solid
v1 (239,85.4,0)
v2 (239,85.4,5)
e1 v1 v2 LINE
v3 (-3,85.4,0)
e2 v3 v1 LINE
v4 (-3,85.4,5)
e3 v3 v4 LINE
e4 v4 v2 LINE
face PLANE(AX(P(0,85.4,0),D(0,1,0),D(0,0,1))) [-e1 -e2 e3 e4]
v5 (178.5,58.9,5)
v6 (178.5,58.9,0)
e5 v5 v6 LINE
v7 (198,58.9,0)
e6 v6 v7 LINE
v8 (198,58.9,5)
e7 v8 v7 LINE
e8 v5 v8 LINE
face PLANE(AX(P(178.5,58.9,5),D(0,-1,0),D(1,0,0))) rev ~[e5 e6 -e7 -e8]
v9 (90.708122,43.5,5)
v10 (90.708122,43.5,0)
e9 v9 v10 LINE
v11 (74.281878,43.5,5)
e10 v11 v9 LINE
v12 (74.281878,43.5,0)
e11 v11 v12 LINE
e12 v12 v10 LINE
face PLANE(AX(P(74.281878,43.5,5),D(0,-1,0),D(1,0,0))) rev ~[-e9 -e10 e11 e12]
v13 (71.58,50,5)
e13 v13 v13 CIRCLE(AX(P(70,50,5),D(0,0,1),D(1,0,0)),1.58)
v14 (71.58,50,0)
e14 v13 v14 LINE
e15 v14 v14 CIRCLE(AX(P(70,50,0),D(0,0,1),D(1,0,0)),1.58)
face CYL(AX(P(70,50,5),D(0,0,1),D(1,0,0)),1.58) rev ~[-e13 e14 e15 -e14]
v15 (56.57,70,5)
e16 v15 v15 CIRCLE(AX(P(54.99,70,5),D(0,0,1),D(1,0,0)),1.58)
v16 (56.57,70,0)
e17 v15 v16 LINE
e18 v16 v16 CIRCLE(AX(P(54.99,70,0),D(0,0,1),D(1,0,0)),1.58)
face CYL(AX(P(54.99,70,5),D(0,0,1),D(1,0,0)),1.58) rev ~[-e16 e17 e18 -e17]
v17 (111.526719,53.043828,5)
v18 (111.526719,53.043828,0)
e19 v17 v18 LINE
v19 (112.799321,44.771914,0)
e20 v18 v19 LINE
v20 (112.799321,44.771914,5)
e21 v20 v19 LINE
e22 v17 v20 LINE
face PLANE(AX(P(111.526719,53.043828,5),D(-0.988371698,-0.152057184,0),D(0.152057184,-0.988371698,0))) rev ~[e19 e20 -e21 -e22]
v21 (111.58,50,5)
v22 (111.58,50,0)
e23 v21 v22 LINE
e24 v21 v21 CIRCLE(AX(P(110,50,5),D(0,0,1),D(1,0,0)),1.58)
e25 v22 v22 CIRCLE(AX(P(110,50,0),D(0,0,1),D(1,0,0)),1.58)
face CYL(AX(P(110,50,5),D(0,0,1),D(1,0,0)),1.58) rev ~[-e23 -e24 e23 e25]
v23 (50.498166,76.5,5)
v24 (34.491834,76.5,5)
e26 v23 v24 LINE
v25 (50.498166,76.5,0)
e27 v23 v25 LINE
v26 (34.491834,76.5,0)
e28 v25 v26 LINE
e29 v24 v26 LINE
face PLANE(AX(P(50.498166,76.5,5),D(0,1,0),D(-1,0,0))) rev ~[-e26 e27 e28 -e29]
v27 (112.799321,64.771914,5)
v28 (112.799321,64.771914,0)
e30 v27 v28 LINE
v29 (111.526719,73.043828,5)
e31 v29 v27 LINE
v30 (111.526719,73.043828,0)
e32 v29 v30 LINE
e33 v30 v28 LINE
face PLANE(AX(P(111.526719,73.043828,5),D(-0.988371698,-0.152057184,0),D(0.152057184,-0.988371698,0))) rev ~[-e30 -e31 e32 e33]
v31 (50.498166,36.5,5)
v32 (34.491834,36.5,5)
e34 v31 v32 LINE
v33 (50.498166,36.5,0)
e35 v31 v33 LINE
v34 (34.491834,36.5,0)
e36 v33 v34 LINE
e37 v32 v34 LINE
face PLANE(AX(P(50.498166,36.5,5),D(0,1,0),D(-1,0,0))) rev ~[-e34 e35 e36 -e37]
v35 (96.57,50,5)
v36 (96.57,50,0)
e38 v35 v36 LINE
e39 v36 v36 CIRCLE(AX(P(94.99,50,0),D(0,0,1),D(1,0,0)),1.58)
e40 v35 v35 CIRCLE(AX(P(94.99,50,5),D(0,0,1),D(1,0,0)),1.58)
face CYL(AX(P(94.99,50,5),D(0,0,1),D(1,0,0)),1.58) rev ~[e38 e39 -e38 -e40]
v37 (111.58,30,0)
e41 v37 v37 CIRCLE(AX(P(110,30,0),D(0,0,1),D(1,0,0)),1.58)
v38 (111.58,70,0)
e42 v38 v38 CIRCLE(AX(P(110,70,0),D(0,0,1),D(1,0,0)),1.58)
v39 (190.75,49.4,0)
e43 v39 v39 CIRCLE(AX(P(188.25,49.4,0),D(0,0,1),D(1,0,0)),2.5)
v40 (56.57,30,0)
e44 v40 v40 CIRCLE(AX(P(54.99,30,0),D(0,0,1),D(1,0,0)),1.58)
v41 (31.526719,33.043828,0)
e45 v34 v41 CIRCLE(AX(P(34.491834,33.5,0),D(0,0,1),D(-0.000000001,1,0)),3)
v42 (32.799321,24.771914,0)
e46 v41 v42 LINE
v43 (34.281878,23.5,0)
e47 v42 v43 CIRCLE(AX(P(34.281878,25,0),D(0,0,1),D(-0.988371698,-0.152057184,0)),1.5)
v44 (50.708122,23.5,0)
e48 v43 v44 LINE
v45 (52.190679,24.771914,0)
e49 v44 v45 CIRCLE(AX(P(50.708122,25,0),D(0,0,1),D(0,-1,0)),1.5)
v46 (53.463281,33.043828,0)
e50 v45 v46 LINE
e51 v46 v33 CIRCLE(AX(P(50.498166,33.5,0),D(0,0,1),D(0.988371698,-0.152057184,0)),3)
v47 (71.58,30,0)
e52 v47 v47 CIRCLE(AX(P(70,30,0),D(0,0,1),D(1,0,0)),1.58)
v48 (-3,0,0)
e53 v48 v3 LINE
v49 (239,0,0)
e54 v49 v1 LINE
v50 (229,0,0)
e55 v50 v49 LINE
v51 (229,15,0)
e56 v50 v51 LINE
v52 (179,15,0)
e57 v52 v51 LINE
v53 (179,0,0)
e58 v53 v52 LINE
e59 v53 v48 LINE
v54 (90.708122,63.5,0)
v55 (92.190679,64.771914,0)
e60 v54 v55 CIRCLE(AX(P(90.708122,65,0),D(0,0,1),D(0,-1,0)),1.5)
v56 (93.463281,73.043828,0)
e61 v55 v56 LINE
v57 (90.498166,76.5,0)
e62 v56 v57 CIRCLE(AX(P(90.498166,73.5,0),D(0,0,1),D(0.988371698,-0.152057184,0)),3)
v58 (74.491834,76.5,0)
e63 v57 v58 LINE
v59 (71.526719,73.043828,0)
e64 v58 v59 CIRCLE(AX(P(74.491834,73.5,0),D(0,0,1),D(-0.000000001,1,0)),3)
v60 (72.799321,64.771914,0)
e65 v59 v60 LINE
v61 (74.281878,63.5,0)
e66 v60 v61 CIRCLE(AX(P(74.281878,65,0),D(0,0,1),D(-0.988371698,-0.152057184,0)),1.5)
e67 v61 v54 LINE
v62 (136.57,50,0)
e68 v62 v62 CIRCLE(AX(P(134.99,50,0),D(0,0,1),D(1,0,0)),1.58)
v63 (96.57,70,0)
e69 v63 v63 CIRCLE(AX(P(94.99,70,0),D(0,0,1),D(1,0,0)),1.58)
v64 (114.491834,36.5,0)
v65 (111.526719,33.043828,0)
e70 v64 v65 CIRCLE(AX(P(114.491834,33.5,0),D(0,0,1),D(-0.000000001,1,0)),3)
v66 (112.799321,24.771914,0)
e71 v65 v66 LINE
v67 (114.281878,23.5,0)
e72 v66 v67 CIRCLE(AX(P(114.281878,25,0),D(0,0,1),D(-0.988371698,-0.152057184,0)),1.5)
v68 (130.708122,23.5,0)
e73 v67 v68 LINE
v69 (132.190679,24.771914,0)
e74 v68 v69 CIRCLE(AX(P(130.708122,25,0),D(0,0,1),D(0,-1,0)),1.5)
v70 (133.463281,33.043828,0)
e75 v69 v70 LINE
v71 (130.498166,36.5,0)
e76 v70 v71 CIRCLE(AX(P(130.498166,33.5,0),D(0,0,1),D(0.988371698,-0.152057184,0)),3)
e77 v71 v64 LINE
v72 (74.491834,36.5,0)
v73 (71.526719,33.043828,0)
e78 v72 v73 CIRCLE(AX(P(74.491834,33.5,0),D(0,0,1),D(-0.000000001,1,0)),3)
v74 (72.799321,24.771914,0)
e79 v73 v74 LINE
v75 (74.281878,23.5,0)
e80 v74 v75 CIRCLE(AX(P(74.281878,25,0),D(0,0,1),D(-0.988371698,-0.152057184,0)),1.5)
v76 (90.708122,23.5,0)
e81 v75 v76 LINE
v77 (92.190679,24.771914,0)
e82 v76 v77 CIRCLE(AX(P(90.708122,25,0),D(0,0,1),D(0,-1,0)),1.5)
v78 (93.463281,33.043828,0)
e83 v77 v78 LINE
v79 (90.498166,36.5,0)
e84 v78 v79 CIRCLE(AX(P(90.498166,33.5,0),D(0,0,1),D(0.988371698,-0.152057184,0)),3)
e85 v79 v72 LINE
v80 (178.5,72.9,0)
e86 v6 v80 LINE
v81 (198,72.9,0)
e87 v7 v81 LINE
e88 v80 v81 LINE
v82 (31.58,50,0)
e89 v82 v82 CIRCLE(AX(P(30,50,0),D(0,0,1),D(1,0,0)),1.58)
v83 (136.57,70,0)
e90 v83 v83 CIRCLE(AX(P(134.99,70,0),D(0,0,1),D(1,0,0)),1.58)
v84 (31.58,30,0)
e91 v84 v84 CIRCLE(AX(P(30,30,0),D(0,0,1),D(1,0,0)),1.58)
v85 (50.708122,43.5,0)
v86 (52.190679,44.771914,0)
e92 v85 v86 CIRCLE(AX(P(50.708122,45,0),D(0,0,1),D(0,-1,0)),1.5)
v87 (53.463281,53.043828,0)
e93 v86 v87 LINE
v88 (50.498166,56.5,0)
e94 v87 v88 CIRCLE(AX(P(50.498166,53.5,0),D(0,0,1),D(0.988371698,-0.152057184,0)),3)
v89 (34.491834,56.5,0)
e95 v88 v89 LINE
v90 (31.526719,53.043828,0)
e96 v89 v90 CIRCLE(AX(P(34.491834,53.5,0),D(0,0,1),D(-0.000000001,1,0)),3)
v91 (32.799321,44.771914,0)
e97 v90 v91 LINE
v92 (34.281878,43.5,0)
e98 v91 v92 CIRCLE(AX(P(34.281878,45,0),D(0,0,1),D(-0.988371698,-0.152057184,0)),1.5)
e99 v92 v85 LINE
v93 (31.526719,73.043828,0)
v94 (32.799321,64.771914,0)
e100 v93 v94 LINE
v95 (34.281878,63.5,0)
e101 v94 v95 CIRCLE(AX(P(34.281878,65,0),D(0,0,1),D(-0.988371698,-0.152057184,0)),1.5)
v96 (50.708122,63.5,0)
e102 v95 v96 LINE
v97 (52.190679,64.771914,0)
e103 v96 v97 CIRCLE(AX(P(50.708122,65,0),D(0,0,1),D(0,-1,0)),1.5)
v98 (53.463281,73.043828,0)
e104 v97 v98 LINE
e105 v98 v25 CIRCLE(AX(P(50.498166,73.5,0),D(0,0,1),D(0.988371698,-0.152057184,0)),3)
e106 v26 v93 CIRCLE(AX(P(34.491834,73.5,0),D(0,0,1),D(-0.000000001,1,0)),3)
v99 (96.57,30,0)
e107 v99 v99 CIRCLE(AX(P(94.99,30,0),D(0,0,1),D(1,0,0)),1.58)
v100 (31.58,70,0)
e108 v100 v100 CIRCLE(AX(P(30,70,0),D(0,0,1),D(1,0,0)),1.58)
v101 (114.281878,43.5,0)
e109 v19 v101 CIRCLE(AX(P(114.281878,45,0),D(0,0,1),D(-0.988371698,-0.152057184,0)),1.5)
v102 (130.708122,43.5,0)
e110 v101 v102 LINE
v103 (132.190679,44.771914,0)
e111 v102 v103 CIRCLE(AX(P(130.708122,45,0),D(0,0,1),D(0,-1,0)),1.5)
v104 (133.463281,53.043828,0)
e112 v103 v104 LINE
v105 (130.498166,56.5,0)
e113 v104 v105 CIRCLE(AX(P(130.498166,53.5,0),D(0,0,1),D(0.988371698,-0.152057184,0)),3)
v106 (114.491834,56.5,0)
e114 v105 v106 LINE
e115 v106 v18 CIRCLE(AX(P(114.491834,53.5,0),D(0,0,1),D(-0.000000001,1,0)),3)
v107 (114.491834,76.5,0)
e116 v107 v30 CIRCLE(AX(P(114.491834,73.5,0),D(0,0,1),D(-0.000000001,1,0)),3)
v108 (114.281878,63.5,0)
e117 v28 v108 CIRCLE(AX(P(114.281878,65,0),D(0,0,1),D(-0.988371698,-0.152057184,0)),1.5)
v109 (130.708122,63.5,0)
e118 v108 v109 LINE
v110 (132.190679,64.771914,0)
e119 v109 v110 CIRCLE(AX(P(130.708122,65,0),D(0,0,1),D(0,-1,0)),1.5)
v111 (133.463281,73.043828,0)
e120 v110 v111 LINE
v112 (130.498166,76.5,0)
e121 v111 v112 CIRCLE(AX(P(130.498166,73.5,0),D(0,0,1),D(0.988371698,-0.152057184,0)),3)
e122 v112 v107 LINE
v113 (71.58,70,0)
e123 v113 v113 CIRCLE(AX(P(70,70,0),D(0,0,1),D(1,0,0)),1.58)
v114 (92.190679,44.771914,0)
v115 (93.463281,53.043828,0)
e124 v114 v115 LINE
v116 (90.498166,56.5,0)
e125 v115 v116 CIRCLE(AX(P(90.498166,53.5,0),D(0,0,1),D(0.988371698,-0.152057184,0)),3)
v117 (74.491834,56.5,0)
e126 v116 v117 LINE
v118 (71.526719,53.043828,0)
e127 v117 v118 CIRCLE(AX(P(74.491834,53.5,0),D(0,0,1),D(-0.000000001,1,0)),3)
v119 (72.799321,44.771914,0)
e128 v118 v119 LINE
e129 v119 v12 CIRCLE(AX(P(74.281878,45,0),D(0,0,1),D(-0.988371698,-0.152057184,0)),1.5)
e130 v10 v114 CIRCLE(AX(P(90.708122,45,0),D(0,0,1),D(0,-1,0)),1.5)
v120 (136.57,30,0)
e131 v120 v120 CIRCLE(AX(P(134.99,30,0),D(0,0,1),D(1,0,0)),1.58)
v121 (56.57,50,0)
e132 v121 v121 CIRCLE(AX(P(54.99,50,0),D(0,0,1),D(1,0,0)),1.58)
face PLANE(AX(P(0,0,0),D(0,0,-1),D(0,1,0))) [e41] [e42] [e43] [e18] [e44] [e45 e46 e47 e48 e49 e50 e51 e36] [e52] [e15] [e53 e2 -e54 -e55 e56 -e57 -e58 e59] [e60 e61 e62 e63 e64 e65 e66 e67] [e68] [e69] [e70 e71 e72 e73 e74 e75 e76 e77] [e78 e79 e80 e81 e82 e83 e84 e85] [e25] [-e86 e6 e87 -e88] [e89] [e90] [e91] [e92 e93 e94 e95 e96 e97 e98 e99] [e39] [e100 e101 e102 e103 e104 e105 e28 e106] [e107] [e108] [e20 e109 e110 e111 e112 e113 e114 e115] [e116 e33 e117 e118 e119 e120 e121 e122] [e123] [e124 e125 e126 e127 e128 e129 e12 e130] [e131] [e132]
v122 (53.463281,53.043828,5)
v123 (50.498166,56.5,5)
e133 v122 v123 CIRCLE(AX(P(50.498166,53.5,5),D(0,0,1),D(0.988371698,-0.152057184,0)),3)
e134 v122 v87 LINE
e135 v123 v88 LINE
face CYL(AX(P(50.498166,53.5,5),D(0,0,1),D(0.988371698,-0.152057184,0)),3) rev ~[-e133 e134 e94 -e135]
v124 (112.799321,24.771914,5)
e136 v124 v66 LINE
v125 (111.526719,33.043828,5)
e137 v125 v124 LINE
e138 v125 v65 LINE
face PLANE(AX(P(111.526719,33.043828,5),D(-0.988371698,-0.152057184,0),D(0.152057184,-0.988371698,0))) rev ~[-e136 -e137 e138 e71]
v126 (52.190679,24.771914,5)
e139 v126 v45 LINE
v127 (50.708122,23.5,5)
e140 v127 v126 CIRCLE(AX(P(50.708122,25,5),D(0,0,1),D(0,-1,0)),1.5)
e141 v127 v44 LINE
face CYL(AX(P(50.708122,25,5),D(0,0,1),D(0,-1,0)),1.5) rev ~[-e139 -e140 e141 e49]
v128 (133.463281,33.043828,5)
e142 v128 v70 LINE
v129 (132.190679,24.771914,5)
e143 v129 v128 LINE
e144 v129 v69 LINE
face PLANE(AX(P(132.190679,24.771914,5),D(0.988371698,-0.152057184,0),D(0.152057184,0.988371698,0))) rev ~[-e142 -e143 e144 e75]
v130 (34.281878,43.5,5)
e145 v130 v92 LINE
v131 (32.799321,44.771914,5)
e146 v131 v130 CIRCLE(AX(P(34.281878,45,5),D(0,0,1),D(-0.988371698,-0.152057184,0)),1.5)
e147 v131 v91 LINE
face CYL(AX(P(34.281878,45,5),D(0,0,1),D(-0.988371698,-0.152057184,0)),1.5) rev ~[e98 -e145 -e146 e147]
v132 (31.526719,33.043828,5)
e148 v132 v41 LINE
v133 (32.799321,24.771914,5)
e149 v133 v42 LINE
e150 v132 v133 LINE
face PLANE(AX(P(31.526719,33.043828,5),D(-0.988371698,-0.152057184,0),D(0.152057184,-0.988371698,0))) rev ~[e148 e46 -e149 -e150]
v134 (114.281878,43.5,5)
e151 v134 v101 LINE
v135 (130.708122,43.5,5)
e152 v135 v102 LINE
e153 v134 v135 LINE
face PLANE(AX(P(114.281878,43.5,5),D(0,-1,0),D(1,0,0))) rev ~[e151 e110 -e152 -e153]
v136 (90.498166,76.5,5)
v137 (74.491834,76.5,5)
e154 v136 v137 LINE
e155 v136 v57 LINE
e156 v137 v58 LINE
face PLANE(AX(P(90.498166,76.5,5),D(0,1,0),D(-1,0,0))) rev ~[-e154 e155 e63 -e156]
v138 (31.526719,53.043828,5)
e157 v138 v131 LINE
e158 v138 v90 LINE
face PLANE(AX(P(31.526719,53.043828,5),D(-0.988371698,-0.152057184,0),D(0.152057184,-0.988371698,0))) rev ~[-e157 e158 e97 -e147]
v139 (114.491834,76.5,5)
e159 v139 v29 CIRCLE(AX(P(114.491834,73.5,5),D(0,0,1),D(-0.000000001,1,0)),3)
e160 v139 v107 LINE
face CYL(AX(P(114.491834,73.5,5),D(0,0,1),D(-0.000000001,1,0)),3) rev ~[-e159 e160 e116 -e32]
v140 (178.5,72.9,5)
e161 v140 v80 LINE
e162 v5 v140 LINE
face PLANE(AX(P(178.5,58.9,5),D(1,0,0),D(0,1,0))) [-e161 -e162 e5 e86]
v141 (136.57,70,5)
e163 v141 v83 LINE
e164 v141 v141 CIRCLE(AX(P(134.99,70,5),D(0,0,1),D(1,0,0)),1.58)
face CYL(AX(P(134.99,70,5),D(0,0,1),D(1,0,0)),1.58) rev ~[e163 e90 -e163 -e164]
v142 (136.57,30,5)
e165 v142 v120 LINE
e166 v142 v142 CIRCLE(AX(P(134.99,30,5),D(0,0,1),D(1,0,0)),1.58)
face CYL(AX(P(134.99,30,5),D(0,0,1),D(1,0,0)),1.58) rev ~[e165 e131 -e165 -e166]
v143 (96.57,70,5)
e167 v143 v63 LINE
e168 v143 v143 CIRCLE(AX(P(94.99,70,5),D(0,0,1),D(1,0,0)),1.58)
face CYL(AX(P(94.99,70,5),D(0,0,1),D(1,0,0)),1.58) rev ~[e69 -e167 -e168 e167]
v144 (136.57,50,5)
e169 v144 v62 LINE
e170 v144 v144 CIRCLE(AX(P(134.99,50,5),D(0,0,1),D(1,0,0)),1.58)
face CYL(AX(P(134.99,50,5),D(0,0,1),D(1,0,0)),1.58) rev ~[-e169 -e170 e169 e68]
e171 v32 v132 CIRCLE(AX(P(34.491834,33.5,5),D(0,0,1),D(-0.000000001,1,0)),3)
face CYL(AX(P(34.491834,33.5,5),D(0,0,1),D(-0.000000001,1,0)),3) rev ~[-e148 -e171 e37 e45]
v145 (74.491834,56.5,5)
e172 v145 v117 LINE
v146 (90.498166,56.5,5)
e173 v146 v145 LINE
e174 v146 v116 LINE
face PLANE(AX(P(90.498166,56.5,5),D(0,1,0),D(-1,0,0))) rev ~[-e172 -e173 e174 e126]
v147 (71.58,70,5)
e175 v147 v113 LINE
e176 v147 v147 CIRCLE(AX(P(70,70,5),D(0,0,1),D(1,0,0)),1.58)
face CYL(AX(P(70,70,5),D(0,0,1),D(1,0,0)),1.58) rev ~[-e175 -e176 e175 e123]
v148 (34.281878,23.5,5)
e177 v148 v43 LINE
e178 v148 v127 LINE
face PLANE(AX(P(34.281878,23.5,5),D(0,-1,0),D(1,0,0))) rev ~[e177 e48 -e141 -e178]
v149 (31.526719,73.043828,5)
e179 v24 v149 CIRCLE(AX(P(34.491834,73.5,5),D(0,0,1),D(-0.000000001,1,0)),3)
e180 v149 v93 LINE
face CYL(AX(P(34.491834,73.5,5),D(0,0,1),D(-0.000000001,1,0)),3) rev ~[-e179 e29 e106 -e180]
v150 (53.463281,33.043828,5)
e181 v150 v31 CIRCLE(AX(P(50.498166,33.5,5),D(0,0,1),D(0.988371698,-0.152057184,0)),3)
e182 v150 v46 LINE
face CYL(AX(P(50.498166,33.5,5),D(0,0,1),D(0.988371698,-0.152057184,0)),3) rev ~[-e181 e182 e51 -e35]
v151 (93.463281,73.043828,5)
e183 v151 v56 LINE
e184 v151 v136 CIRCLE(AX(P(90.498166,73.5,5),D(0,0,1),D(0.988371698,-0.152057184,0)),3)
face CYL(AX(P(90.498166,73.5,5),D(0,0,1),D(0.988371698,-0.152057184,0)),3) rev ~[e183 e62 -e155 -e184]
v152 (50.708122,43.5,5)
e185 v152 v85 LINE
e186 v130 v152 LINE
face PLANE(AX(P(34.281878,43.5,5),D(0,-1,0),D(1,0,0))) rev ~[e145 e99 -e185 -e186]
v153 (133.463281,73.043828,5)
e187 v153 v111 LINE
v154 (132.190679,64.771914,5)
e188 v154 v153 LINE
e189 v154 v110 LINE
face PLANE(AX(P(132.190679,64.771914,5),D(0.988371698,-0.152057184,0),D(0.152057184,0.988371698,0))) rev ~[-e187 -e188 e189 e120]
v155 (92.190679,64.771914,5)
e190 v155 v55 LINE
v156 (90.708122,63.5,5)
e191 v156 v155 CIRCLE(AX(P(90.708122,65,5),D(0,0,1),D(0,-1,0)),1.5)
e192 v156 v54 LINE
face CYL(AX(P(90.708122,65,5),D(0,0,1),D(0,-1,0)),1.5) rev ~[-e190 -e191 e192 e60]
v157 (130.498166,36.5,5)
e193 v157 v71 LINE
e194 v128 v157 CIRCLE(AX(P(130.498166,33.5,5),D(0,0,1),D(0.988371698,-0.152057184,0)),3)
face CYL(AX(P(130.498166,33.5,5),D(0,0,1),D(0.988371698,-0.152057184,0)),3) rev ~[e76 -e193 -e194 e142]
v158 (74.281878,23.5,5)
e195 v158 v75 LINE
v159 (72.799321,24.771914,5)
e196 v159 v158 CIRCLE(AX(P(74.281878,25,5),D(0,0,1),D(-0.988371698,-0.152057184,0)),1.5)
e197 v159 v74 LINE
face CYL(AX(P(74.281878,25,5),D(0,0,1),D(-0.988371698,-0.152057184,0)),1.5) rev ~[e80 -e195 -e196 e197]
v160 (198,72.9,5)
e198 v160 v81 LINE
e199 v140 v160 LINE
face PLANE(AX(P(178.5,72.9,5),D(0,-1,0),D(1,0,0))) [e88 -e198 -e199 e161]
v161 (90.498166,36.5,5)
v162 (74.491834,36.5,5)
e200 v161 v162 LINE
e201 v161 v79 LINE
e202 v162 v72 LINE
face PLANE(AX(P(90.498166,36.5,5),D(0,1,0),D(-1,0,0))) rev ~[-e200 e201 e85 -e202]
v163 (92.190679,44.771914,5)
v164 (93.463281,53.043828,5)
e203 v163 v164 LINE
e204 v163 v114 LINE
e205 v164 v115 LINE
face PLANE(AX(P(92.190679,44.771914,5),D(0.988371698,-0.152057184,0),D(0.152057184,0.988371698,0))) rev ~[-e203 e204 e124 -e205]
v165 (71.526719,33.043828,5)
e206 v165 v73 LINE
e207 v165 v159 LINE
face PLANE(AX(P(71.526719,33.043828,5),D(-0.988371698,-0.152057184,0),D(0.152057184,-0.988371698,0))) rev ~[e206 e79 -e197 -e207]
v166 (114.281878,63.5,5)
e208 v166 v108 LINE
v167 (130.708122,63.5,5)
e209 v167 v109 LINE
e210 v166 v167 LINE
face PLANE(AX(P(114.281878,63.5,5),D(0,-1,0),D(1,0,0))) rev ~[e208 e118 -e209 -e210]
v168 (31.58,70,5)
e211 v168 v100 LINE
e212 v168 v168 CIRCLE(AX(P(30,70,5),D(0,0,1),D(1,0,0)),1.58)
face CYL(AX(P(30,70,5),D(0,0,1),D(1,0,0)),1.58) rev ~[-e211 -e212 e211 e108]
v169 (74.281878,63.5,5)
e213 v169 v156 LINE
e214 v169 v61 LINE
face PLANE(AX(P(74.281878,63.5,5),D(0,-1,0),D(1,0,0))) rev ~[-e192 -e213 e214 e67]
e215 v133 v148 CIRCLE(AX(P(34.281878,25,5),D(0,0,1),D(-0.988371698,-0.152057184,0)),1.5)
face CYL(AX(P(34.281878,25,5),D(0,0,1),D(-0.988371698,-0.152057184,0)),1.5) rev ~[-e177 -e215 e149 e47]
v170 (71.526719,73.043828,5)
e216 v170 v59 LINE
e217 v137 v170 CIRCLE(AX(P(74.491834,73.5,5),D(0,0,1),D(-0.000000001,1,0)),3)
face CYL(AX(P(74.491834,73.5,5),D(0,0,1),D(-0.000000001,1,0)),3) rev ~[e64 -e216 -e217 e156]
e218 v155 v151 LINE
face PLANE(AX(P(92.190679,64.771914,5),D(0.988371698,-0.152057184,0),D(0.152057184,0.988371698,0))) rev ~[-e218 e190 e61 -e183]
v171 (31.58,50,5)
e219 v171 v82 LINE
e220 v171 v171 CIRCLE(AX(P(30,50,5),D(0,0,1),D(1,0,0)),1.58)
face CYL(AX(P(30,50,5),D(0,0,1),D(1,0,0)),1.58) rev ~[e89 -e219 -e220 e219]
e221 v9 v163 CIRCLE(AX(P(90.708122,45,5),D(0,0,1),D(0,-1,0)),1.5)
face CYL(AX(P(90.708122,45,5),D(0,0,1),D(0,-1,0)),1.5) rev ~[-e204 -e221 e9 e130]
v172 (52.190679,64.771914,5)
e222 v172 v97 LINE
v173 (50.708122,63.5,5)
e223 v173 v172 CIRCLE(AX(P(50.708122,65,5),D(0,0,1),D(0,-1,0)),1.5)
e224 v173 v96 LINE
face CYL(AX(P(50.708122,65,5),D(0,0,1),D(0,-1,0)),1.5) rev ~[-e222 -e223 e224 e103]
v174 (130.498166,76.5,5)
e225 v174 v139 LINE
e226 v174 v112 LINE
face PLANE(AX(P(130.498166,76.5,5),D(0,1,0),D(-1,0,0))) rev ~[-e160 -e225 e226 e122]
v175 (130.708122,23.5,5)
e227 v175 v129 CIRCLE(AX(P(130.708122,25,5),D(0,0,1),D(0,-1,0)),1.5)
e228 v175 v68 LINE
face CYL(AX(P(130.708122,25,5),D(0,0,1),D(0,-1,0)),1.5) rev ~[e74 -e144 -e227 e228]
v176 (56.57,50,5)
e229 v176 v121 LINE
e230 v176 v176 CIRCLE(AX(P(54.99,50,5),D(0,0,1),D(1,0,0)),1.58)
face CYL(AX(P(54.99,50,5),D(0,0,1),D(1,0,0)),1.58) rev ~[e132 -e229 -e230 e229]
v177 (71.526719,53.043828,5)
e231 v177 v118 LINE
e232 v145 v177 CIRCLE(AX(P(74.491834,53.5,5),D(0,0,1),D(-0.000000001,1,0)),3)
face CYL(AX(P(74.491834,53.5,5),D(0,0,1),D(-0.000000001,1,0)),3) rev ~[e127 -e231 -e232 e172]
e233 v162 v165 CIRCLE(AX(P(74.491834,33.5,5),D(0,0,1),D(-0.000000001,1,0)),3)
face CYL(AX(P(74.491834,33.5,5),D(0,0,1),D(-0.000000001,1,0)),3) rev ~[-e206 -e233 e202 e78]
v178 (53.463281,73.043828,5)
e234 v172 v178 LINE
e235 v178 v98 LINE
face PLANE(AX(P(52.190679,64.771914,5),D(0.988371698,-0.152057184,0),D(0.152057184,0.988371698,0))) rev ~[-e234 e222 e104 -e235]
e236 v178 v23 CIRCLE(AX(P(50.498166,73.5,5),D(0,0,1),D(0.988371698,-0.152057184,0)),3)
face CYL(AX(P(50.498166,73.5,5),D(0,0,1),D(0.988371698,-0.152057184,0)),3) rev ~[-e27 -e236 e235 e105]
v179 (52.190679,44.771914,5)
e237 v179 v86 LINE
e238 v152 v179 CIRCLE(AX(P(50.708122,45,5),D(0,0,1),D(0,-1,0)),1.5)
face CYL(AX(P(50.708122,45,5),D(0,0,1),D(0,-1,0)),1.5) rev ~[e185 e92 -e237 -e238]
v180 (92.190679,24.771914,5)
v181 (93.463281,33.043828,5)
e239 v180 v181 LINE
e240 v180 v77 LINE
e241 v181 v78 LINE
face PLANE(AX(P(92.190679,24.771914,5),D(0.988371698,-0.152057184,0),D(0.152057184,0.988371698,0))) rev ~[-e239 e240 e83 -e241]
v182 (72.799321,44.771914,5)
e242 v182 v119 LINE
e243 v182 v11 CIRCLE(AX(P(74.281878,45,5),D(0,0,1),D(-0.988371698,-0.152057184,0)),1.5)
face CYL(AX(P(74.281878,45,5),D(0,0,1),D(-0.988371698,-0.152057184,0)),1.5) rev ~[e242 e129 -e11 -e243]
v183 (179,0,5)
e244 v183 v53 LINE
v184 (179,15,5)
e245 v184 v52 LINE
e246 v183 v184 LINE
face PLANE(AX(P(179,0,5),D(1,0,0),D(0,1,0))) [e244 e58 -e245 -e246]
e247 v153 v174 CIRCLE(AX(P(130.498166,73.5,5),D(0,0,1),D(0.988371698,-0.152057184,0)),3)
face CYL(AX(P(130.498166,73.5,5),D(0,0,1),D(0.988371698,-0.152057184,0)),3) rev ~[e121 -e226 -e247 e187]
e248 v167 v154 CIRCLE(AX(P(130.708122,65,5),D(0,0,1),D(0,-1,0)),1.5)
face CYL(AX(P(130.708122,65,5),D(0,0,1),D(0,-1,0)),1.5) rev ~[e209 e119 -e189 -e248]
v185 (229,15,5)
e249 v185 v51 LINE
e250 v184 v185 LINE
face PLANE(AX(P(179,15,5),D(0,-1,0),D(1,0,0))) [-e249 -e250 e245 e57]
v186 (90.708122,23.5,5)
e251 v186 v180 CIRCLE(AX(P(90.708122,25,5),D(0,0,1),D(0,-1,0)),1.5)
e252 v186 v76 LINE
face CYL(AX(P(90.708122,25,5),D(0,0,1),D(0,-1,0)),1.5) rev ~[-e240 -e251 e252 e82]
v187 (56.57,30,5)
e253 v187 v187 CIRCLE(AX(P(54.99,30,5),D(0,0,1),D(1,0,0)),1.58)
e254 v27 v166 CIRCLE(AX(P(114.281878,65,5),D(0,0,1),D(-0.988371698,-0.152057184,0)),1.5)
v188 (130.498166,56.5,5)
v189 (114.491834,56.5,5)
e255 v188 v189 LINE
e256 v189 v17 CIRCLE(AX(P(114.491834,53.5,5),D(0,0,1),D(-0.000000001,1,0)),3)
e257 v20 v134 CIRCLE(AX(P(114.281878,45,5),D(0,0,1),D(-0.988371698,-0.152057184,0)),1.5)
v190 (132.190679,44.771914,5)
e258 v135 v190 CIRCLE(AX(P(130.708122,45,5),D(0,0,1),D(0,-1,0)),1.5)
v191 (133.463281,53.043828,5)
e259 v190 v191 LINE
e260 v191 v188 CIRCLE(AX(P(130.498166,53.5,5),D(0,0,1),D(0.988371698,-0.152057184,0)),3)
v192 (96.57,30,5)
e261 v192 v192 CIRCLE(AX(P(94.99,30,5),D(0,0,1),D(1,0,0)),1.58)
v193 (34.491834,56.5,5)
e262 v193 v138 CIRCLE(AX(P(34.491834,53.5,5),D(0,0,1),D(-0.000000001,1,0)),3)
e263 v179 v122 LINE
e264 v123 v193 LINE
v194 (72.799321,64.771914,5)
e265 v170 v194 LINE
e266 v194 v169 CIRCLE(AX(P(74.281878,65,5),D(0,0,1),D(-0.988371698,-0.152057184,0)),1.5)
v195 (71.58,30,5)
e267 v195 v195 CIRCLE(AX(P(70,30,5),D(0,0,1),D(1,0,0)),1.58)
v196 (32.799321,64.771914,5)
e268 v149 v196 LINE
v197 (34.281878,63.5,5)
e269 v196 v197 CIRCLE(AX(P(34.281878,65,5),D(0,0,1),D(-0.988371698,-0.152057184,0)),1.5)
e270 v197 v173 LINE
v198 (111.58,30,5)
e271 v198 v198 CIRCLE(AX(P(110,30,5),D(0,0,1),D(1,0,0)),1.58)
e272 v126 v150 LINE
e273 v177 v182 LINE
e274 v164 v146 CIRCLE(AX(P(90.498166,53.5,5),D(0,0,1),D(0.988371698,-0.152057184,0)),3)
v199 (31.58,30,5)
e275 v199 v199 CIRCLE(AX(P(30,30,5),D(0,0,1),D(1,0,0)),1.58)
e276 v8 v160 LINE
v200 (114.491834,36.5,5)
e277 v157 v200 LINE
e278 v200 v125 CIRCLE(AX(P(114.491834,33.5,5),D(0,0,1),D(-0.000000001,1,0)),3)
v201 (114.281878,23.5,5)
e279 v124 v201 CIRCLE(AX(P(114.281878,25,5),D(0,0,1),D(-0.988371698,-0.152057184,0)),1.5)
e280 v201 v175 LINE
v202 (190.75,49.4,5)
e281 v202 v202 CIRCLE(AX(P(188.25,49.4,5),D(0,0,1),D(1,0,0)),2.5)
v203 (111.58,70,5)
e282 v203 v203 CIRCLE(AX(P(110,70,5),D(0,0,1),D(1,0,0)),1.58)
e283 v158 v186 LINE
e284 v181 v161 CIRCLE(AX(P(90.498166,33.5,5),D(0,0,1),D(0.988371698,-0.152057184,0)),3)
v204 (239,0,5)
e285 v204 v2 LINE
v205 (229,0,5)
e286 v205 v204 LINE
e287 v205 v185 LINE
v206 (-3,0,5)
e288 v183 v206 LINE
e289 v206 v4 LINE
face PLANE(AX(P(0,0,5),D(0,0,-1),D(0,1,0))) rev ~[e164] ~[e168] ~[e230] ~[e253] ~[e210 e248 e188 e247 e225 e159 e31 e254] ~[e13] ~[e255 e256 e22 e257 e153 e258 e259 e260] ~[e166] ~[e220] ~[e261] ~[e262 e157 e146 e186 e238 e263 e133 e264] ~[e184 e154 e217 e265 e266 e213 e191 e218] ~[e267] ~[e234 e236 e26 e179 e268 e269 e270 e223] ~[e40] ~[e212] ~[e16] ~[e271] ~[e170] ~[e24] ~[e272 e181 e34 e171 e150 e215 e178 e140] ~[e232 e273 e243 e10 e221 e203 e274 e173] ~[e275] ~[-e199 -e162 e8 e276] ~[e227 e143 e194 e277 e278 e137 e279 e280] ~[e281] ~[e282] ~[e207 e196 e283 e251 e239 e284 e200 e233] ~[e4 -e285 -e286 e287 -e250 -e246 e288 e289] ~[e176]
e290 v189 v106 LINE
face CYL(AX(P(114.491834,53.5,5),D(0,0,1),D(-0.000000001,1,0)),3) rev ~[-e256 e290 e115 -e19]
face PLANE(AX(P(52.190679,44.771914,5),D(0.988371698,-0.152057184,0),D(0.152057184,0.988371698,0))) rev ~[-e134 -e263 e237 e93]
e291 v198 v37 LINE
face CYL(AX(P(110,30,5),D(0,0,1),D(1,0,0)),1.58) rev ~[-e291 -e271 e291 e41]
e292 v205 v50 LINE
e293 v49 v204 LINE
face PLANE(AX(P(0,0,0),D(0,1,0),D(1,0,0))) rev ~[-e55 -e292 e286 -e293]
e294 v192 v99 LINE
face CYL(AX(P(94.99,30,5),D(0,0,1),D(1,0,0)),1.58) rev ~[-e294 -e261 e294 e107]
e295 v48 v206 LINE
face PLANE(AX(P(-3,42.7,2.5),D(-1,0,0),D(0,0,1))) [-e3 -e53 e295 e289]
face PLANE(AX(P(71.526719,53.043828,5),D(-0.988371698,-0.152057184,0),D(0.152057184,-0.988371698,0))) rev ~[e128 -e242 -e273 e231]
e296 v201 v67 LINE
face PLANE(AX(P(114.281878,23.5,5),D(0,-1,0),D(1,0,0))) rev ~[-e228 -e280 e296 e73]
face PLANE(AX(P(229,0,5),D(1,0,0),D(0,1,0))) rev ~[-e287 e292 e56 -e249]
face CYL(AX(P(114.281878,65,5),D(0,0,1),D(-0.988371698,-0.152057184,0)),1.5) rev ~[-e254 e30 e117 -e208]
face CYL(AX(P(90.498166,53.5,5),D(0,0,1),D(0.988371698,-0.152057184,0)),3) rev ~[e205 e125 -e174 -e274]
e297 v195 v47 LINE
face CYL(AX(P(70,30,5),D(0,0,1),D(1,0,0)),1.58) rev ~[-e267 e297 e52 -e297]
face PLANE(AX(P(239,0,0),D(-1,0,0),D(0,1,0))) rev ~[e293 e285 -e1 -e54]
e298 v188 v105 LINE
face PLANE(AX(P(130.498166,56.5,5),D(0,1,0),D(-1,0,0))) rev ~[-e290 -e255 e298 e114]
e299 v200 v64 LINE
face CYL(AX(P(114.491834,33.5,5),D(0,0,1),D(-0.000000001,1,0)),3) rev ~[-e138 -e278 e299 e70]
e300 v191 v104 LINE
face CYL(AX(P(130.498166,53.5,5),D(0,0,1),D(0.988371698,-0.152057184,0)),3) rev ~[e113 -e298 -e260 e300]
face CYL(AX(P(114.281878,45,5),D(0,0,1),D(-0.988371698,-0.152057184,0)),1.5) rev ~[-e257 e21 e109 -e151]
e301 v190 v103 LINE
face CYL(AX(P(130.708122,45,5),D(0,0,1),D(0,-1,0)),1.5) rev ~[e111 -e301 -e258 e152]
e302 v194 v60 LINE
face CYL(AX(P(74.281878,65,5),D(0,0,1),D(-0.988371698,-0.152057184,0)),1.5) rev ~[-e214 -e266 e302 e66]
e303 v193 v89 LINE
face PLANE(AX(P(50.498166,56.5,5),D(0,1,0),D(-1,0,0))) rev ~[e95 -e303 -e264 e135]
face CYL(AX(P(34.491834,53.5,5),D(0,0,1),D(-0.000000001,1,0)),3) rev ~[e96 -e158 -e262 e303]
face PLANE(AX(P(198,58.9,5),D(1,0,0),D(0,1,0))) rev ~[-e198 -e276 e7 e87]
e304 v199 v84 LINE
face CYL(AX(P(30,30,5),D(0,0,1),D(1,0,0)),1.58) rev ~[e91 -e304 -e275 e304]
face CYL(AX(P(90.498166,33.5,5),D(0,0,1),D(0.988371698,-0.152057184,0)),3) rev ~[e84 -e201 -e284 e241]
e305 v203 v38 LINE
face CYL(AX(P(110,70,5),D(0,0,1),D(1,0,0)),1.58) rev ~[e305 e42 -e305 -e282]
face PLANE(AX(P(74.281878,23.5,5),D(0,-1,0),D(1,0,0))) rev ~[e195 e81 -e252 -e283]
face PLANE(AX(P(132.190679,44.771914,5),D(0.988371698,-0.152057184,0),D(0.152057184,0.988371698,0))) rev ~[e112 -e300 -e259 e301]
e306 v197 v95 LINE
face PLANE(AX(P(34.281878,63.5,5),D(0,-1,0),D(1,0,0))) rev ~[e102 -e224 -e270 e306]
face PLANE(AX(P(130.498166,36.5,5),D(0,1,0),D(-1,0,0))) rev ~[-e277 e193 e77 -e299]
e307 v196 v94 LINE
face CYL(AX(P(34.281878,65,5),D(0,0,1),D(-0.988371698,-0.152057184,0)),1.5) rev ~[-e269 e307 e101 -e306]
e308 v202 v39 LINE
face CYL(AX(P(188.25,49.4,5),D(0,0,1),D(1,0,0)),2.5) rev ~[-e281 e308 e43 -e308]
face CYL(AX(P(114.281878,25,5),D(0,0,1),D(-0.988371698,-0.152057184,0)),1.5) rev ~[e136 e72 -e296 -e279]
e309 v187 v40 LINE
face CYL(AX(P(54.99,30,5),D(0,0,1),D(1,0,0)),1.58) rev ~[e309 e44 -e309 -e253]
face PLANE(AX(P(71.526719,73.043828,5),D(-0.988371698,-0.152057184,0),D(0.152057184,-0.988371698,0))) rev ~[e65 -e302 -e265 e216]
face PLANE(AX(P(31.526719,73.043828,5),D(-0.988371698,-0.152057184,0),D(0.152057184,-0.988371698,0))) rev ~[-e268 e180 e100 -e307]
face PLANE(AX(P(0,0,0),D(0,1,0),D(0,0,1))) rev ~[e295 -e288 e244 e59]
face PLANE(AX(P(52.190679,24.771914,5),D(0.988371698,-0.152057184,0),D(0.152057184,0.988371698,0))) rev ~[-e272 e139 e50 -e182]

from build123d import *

# Parameters (mm, degrees)
SKETCH1_W           = 239
SKETCH1_H           = 85.4
BOSS_EXTRUDE1_DEPTH = 5
SKETCH2_R           = 1.58
CUT_EXTRUDE1_DEPTH  = 254.848695092
CUT_EXTRUDE2_DEPTH  = 254.848695092
SKETCH4_R           = 2.5
SKETCH4_W           = 50
SKETCH4_H           = 15
SKETCH4_W_2         = 19.5
SKETCH4_H_2         = 14
CUT_EXTRUDE3_DEPTH  = 254.848695092
SKETCH5_W           = 5
SKETCH5_H           = 85.4
BOSS_EXTRUDE2_DEPTH = 3


with BuildPart() as part:
    # Sketch1 → Boss-Extrude1 (new body)
    with BuildSketch(Plane.XY):
        with Locations((119.5, 42.7)):
            Rectangle(SKETCH1_W, SKETCH1_H)
    extrude(amount=BOSS_EXTRUDE1_DEPTH)

    # Sketch2 → Cut-Extrude1 (cut, through all)
    with BuildSketch(Plane.XY.offset(5)):
        with Locations((30, 30)):
            Circle(SKETCH2_R)
        with Locations((54.99, 30)):
            Circle(SKETCH2_R)
        with Locations((94.99, 30)):
            Circle(SKETCH2_R)
        with Locations((70, 30)):
            Circle(SKETCH2_R)
        with Locations((134.99, 30)):
            Circle(SKETCH2_R)
        with Locations((110, 30)):
            Circle(SKETCH2_R)
        with Locations((94.99, 50)):
            Circle(SKETCH2_R)
        with Locations((70, 50)):
            Circle(SKETCH2_R)
        with Locations((134.99, 50)):
            Circle(SKETCH2_R)
        with Locations((110, 50)):
            Circle(SKETCH2_R)
        with Locations((94.99, 70)):
            Circle(SKETCH2_R)
        with Locations((70, 70)):
            Circle(SKETCH2_R)
        with Locations((134.99, 70)):
            Circle(SKETCH2_R)
        with Locations((110, 70)):
            Circle(SKETCH2_R)
        with Locations((54.99, 50)):
            Circle(SKETCH2_R)
        with Locations((30, 50)):
            Circle(SKETCH2_R)
        with Locations((54.99, 70)):
            Circle(SKETCH2_R)
        with Locations((30, 70)):
            Circle(SKETCH2_R)
    extrude(amount=-CUT_EXTRUDE1_DEPTH, mode=Mode.SUBTRACT)

    # Sketch3 → Cut-Extrude2 (cut, through all)
    with BuildSketch(Plane.XY.offset(5)):
        with BuildLine():
            Line((31.5267187, 33.043828447), (32.799320889, 24.771914224))
            ThreePointArc((32.799320889, 24.771914224), (33.305182132, 23.861551788), (34.281878435, 23.5))
            Line((34.281878435, 23.5), (50.708121565, 23.5))
            ThreePointArc((50.708121565, 23.5), (51.684817868, 23.861551788), (52.190679111, 24.771914224))
            Line((52.190679111, 24.771914224), (53.4632813, 33.043828447))
            ThreePointArc((53.4632813, 33.043828447), (52.775062631, 35.453392605), (50.498166207, 36.5))
            Line((50.498166207, 36.5), (34.491833793, 36.5))
            ThreePointArc((34.491833793, 36.5), (32.214937369, 35.453392605), (31.5267187, 33.043828447))
        make_face()
        with BuildLine():
            Line((71.5267187, 33.043828447), (72.799320889, 24.771914224))
            ThreePointArc((72.799320889, 24.771914224), (73.305182132, 23.861551788), (74.281878435, 23.5))
            Line((74.281878435, 23.5), (90.708121565, 23.5))
            ThreePointArc((90.708121565, 23.5), (91.684817868, 23.861551788), (92.190679111, 24.771914224))
            Line((92.190679111, 24.771914224), (93.4632813, 33.043828447))
            ThreePointArc((93.4632813, 33.043828447), (92.775062631, 35.453392605), (90.498166207, 36.5))
            Line((90.498166207, 36.5), (74.491833793, 36.5))
            ThreePointArc((74.491833793, 36.5), (72.214937369, 35.453392605), (71.5267187, 33.043828447))
        make_face()
        with BuildLine():
            Line((111.5267187, 33.043828447), (112.799320889, 24.771914224))
            ThreePointArc((112.799320889, 24.771914224), (113.305182132, 23.861551788), (114.281878435, 23.5))
            Line((114.281878435, 23.5), (130.708121565, 23.5))
            ThreePointArc((130.708121565, 23.5), (131.684817868, 23.861551788), (132.190679111, 24.771914224))
            Line((132.190679111, 24.771914224), (133.4632813, 33.043828447))
            ThreePointArc((133.4632813, 33.043828447), (132.775062631, 35.453392605), (130.498166207, 36.5))
            Line((130.498166207, 36.5), (114.491833793, 36.5))
            ThreePointArc((114.491833793, 36.5), (112.214937369, 35.453392605), (111.5267187, 33.043828447))
        make_face()
        with BuildLine():
            Line((71.5267187, 53.043828447), (72.799320889, 44.771914224))
            ThreePointArc((72.799320889, 44.771914224), (73.305182132, 43.861551788), (74.281878435, 43.5))
            Line((74.281878435, 43.5), (90.708121565, 43.5))
            ThreePointArc((90.708121565, 43.5), (91.684817868, 43.861551788), (92.190679111, 44.771914224))
            Line((92.190679111, 44.771914224), (93.4632813, 53.043828447))
            ThreePointArc((93.4632813, 53.043828447), (92.775062631, 55.453392605), (90.498166207, 56.5))
            Line((90.498166207, 56.5), (74.491833793, 56.5))
            ThreePointArc((74.491833793, 56.5), (72.214937369, 55.453392605), (71.5267187, 53.043828447))
        make_face()
        with BuildLine():
            Line((111.5267187, 53.043828447), (112.799320889, 44.771914224))
            ThreePointArc((112.799320889, 44.771914224), (113.305182132, 43.861551788), (114.281878435, 43.5))
            Line((114.281878435, 43.5), (130.708121565, 43.5))
            ThreePointArc((130.708121565, 43.5), (131.684817868, 43.861551788), (132.190679111, 44.771914224))
            Line((132.190679111, 44.771914224), (133.4632813, 53.043828447))
            ThreePointArc((133.4632813, 53.043828447), (132.775062631, 55.453392605), (130.498166207, 56.5))
            Line((130.498166207, 56.5), (114.491833793, 56.5))
            ThreePointArc((114.491833793, 56.5), (112.214937369, 55.453392605), (111.5267187, 53.043828447))
        make_face()
        with BuildLine():
            Line((71.5267187, 73.043828447), (72.799320889, 64.771914224))
            ThreePointArc((72.799320889, 64.771914224), (73.305182132, 63.861551788), (74.281878435, 63.5))
            Line((74.281878435, 63.5), (90.708121565, 63.5))
            ThreePointArc((90.708121565, 63.5), (91.684817868, 63.861551788), (92.190679111, 64.771914224))
            Line((92.190679111, 64.771914224), (93.4632813, 73.043828447))
            ThreePointArc((93.4632813, 73.043828447), (92.775062631, 75.453392605), (90.498166207, 76.5))
            Line((90.498166207, 76.5), (74.491833793, 76.5))
            ThreePointArc((74.491833793, 76.5), (72.214937369, 75.453392605), (71.5267187, 73.043828447))
        make_face()
        with BuildLine():
            Line((111.5267187, 73.043828447), (112.799320889, 64.771914224))
            ThreePointArc((112.799320889, 64.771914224), (113.305182132, 63.861551788), (114.281878435, 63.5))
            Line((114.281878435, 63.5), (130.708121565, 63.5))
            ThreePointArc((130.708121565, 63.5), (131.684817868, 63.861551788), (132.190679111, 64.771914224))
            Line((132.190679111, 64.771914224), (133.4632813, 73.043828447))
            ThreePointArc((133.4632813, 73.043828447), (132.775062631, 75.453392605), (130.498166207, 76.5))
            Line((130.498166207, 76.5), (114.491833793, 76.5))
            ThreePointArc((114.491833793, 76.5), (112.214937369, 75.453392605), (111.5267187, 73.043828447))
        make_face()
        with BuildLine():
            Line((31.5267187, 53.043828447), (32.799320889, 44.771914224))
            ThreePointArc((32.799320889, 44.771914224), (33.305182132, 43.861551788), (34.281878435, 43.5))
            Line((34.281878435, 43.5), (50.708121565, 43.5))
            ThreePointArc((50.708121565, 43.5), (51.684817868, 43.861551788), (52.190679111, 44.771914224))
            Line((52.190679111, 44.771914224), (53.4632813, 53.043828447))
            ThreePointArc((53.4632813, 53.043828447), (52.775062631, 55.453392605), (50.498166207, 56.5))
            Line((50.498166207, 56.5), (34.491833793, 56.5))
            ThreePointArc((34.491833793, 56.5), (32.214937369, 55.453392605), (31.5267187, 53.043828447))
        make_face()
        with BuildLine():
            Line((31.5267187, 73.043828447), (32.799320889, 64.771914224))
            ThreePointArc((32.799320889, 64.771914224), (33.305182132, 63.861551788), (34.281878435, 63.5))
            Line((34.281878435, 63.5), (50.708121565, 63.5))
            ThreePointArc((50.708121565, 63.5), (51.684817868, 63.861551788), (52.190679111, 64.771914224))
            Line((52.190679111, 64.771914224), (53.4632813, 73.043828447))
            ThreePointArc((53.4632813, 73.043828447), (52.775062631, 75.453392605), (50.498166207, 76.5))
            Line((50.498166207, 76.5), (34.491833793, 76.5))
            ThreePointArc((34.491833793, 76.5), (32.214937369, 75.453392605), (31.5267187, 73.043828447))
        make_face()
    extrude(amount=-CUT_EXTRUDE2_DEPTH, mode=Mode.SUBTRACT)

    # Sketch4 → Cut-Extrude3 (cut, through all)
    with BuildSketch(Plane.XY.offset(5)):
        with Locations((188.25, 49.4)):
            Circle(SKETCH4_R)
        with Locations((204, 7.5)):
            Rectangle(SKETCH4_W, SKETCH4_H)
        with Locations((188.25, 65.9)):
            Rectangle(SKETCH4_W_2, SKETCH4_H_2)
    extrude(amount=-CUT_EXTRUDE3_DEPTH, mode=Mode.SUBTRACT)

    # Sketch5 → Boss-Extrude2 (add)
    with BuildSketch(Plane.ZY):
        with Locations((2.5, 42.7)):
            Rectangle(SKETCH5_W, SKETCH5_H)
    extrude(amount=BOSS_EXTRUDE2_DEPTH)


solid = part.part
